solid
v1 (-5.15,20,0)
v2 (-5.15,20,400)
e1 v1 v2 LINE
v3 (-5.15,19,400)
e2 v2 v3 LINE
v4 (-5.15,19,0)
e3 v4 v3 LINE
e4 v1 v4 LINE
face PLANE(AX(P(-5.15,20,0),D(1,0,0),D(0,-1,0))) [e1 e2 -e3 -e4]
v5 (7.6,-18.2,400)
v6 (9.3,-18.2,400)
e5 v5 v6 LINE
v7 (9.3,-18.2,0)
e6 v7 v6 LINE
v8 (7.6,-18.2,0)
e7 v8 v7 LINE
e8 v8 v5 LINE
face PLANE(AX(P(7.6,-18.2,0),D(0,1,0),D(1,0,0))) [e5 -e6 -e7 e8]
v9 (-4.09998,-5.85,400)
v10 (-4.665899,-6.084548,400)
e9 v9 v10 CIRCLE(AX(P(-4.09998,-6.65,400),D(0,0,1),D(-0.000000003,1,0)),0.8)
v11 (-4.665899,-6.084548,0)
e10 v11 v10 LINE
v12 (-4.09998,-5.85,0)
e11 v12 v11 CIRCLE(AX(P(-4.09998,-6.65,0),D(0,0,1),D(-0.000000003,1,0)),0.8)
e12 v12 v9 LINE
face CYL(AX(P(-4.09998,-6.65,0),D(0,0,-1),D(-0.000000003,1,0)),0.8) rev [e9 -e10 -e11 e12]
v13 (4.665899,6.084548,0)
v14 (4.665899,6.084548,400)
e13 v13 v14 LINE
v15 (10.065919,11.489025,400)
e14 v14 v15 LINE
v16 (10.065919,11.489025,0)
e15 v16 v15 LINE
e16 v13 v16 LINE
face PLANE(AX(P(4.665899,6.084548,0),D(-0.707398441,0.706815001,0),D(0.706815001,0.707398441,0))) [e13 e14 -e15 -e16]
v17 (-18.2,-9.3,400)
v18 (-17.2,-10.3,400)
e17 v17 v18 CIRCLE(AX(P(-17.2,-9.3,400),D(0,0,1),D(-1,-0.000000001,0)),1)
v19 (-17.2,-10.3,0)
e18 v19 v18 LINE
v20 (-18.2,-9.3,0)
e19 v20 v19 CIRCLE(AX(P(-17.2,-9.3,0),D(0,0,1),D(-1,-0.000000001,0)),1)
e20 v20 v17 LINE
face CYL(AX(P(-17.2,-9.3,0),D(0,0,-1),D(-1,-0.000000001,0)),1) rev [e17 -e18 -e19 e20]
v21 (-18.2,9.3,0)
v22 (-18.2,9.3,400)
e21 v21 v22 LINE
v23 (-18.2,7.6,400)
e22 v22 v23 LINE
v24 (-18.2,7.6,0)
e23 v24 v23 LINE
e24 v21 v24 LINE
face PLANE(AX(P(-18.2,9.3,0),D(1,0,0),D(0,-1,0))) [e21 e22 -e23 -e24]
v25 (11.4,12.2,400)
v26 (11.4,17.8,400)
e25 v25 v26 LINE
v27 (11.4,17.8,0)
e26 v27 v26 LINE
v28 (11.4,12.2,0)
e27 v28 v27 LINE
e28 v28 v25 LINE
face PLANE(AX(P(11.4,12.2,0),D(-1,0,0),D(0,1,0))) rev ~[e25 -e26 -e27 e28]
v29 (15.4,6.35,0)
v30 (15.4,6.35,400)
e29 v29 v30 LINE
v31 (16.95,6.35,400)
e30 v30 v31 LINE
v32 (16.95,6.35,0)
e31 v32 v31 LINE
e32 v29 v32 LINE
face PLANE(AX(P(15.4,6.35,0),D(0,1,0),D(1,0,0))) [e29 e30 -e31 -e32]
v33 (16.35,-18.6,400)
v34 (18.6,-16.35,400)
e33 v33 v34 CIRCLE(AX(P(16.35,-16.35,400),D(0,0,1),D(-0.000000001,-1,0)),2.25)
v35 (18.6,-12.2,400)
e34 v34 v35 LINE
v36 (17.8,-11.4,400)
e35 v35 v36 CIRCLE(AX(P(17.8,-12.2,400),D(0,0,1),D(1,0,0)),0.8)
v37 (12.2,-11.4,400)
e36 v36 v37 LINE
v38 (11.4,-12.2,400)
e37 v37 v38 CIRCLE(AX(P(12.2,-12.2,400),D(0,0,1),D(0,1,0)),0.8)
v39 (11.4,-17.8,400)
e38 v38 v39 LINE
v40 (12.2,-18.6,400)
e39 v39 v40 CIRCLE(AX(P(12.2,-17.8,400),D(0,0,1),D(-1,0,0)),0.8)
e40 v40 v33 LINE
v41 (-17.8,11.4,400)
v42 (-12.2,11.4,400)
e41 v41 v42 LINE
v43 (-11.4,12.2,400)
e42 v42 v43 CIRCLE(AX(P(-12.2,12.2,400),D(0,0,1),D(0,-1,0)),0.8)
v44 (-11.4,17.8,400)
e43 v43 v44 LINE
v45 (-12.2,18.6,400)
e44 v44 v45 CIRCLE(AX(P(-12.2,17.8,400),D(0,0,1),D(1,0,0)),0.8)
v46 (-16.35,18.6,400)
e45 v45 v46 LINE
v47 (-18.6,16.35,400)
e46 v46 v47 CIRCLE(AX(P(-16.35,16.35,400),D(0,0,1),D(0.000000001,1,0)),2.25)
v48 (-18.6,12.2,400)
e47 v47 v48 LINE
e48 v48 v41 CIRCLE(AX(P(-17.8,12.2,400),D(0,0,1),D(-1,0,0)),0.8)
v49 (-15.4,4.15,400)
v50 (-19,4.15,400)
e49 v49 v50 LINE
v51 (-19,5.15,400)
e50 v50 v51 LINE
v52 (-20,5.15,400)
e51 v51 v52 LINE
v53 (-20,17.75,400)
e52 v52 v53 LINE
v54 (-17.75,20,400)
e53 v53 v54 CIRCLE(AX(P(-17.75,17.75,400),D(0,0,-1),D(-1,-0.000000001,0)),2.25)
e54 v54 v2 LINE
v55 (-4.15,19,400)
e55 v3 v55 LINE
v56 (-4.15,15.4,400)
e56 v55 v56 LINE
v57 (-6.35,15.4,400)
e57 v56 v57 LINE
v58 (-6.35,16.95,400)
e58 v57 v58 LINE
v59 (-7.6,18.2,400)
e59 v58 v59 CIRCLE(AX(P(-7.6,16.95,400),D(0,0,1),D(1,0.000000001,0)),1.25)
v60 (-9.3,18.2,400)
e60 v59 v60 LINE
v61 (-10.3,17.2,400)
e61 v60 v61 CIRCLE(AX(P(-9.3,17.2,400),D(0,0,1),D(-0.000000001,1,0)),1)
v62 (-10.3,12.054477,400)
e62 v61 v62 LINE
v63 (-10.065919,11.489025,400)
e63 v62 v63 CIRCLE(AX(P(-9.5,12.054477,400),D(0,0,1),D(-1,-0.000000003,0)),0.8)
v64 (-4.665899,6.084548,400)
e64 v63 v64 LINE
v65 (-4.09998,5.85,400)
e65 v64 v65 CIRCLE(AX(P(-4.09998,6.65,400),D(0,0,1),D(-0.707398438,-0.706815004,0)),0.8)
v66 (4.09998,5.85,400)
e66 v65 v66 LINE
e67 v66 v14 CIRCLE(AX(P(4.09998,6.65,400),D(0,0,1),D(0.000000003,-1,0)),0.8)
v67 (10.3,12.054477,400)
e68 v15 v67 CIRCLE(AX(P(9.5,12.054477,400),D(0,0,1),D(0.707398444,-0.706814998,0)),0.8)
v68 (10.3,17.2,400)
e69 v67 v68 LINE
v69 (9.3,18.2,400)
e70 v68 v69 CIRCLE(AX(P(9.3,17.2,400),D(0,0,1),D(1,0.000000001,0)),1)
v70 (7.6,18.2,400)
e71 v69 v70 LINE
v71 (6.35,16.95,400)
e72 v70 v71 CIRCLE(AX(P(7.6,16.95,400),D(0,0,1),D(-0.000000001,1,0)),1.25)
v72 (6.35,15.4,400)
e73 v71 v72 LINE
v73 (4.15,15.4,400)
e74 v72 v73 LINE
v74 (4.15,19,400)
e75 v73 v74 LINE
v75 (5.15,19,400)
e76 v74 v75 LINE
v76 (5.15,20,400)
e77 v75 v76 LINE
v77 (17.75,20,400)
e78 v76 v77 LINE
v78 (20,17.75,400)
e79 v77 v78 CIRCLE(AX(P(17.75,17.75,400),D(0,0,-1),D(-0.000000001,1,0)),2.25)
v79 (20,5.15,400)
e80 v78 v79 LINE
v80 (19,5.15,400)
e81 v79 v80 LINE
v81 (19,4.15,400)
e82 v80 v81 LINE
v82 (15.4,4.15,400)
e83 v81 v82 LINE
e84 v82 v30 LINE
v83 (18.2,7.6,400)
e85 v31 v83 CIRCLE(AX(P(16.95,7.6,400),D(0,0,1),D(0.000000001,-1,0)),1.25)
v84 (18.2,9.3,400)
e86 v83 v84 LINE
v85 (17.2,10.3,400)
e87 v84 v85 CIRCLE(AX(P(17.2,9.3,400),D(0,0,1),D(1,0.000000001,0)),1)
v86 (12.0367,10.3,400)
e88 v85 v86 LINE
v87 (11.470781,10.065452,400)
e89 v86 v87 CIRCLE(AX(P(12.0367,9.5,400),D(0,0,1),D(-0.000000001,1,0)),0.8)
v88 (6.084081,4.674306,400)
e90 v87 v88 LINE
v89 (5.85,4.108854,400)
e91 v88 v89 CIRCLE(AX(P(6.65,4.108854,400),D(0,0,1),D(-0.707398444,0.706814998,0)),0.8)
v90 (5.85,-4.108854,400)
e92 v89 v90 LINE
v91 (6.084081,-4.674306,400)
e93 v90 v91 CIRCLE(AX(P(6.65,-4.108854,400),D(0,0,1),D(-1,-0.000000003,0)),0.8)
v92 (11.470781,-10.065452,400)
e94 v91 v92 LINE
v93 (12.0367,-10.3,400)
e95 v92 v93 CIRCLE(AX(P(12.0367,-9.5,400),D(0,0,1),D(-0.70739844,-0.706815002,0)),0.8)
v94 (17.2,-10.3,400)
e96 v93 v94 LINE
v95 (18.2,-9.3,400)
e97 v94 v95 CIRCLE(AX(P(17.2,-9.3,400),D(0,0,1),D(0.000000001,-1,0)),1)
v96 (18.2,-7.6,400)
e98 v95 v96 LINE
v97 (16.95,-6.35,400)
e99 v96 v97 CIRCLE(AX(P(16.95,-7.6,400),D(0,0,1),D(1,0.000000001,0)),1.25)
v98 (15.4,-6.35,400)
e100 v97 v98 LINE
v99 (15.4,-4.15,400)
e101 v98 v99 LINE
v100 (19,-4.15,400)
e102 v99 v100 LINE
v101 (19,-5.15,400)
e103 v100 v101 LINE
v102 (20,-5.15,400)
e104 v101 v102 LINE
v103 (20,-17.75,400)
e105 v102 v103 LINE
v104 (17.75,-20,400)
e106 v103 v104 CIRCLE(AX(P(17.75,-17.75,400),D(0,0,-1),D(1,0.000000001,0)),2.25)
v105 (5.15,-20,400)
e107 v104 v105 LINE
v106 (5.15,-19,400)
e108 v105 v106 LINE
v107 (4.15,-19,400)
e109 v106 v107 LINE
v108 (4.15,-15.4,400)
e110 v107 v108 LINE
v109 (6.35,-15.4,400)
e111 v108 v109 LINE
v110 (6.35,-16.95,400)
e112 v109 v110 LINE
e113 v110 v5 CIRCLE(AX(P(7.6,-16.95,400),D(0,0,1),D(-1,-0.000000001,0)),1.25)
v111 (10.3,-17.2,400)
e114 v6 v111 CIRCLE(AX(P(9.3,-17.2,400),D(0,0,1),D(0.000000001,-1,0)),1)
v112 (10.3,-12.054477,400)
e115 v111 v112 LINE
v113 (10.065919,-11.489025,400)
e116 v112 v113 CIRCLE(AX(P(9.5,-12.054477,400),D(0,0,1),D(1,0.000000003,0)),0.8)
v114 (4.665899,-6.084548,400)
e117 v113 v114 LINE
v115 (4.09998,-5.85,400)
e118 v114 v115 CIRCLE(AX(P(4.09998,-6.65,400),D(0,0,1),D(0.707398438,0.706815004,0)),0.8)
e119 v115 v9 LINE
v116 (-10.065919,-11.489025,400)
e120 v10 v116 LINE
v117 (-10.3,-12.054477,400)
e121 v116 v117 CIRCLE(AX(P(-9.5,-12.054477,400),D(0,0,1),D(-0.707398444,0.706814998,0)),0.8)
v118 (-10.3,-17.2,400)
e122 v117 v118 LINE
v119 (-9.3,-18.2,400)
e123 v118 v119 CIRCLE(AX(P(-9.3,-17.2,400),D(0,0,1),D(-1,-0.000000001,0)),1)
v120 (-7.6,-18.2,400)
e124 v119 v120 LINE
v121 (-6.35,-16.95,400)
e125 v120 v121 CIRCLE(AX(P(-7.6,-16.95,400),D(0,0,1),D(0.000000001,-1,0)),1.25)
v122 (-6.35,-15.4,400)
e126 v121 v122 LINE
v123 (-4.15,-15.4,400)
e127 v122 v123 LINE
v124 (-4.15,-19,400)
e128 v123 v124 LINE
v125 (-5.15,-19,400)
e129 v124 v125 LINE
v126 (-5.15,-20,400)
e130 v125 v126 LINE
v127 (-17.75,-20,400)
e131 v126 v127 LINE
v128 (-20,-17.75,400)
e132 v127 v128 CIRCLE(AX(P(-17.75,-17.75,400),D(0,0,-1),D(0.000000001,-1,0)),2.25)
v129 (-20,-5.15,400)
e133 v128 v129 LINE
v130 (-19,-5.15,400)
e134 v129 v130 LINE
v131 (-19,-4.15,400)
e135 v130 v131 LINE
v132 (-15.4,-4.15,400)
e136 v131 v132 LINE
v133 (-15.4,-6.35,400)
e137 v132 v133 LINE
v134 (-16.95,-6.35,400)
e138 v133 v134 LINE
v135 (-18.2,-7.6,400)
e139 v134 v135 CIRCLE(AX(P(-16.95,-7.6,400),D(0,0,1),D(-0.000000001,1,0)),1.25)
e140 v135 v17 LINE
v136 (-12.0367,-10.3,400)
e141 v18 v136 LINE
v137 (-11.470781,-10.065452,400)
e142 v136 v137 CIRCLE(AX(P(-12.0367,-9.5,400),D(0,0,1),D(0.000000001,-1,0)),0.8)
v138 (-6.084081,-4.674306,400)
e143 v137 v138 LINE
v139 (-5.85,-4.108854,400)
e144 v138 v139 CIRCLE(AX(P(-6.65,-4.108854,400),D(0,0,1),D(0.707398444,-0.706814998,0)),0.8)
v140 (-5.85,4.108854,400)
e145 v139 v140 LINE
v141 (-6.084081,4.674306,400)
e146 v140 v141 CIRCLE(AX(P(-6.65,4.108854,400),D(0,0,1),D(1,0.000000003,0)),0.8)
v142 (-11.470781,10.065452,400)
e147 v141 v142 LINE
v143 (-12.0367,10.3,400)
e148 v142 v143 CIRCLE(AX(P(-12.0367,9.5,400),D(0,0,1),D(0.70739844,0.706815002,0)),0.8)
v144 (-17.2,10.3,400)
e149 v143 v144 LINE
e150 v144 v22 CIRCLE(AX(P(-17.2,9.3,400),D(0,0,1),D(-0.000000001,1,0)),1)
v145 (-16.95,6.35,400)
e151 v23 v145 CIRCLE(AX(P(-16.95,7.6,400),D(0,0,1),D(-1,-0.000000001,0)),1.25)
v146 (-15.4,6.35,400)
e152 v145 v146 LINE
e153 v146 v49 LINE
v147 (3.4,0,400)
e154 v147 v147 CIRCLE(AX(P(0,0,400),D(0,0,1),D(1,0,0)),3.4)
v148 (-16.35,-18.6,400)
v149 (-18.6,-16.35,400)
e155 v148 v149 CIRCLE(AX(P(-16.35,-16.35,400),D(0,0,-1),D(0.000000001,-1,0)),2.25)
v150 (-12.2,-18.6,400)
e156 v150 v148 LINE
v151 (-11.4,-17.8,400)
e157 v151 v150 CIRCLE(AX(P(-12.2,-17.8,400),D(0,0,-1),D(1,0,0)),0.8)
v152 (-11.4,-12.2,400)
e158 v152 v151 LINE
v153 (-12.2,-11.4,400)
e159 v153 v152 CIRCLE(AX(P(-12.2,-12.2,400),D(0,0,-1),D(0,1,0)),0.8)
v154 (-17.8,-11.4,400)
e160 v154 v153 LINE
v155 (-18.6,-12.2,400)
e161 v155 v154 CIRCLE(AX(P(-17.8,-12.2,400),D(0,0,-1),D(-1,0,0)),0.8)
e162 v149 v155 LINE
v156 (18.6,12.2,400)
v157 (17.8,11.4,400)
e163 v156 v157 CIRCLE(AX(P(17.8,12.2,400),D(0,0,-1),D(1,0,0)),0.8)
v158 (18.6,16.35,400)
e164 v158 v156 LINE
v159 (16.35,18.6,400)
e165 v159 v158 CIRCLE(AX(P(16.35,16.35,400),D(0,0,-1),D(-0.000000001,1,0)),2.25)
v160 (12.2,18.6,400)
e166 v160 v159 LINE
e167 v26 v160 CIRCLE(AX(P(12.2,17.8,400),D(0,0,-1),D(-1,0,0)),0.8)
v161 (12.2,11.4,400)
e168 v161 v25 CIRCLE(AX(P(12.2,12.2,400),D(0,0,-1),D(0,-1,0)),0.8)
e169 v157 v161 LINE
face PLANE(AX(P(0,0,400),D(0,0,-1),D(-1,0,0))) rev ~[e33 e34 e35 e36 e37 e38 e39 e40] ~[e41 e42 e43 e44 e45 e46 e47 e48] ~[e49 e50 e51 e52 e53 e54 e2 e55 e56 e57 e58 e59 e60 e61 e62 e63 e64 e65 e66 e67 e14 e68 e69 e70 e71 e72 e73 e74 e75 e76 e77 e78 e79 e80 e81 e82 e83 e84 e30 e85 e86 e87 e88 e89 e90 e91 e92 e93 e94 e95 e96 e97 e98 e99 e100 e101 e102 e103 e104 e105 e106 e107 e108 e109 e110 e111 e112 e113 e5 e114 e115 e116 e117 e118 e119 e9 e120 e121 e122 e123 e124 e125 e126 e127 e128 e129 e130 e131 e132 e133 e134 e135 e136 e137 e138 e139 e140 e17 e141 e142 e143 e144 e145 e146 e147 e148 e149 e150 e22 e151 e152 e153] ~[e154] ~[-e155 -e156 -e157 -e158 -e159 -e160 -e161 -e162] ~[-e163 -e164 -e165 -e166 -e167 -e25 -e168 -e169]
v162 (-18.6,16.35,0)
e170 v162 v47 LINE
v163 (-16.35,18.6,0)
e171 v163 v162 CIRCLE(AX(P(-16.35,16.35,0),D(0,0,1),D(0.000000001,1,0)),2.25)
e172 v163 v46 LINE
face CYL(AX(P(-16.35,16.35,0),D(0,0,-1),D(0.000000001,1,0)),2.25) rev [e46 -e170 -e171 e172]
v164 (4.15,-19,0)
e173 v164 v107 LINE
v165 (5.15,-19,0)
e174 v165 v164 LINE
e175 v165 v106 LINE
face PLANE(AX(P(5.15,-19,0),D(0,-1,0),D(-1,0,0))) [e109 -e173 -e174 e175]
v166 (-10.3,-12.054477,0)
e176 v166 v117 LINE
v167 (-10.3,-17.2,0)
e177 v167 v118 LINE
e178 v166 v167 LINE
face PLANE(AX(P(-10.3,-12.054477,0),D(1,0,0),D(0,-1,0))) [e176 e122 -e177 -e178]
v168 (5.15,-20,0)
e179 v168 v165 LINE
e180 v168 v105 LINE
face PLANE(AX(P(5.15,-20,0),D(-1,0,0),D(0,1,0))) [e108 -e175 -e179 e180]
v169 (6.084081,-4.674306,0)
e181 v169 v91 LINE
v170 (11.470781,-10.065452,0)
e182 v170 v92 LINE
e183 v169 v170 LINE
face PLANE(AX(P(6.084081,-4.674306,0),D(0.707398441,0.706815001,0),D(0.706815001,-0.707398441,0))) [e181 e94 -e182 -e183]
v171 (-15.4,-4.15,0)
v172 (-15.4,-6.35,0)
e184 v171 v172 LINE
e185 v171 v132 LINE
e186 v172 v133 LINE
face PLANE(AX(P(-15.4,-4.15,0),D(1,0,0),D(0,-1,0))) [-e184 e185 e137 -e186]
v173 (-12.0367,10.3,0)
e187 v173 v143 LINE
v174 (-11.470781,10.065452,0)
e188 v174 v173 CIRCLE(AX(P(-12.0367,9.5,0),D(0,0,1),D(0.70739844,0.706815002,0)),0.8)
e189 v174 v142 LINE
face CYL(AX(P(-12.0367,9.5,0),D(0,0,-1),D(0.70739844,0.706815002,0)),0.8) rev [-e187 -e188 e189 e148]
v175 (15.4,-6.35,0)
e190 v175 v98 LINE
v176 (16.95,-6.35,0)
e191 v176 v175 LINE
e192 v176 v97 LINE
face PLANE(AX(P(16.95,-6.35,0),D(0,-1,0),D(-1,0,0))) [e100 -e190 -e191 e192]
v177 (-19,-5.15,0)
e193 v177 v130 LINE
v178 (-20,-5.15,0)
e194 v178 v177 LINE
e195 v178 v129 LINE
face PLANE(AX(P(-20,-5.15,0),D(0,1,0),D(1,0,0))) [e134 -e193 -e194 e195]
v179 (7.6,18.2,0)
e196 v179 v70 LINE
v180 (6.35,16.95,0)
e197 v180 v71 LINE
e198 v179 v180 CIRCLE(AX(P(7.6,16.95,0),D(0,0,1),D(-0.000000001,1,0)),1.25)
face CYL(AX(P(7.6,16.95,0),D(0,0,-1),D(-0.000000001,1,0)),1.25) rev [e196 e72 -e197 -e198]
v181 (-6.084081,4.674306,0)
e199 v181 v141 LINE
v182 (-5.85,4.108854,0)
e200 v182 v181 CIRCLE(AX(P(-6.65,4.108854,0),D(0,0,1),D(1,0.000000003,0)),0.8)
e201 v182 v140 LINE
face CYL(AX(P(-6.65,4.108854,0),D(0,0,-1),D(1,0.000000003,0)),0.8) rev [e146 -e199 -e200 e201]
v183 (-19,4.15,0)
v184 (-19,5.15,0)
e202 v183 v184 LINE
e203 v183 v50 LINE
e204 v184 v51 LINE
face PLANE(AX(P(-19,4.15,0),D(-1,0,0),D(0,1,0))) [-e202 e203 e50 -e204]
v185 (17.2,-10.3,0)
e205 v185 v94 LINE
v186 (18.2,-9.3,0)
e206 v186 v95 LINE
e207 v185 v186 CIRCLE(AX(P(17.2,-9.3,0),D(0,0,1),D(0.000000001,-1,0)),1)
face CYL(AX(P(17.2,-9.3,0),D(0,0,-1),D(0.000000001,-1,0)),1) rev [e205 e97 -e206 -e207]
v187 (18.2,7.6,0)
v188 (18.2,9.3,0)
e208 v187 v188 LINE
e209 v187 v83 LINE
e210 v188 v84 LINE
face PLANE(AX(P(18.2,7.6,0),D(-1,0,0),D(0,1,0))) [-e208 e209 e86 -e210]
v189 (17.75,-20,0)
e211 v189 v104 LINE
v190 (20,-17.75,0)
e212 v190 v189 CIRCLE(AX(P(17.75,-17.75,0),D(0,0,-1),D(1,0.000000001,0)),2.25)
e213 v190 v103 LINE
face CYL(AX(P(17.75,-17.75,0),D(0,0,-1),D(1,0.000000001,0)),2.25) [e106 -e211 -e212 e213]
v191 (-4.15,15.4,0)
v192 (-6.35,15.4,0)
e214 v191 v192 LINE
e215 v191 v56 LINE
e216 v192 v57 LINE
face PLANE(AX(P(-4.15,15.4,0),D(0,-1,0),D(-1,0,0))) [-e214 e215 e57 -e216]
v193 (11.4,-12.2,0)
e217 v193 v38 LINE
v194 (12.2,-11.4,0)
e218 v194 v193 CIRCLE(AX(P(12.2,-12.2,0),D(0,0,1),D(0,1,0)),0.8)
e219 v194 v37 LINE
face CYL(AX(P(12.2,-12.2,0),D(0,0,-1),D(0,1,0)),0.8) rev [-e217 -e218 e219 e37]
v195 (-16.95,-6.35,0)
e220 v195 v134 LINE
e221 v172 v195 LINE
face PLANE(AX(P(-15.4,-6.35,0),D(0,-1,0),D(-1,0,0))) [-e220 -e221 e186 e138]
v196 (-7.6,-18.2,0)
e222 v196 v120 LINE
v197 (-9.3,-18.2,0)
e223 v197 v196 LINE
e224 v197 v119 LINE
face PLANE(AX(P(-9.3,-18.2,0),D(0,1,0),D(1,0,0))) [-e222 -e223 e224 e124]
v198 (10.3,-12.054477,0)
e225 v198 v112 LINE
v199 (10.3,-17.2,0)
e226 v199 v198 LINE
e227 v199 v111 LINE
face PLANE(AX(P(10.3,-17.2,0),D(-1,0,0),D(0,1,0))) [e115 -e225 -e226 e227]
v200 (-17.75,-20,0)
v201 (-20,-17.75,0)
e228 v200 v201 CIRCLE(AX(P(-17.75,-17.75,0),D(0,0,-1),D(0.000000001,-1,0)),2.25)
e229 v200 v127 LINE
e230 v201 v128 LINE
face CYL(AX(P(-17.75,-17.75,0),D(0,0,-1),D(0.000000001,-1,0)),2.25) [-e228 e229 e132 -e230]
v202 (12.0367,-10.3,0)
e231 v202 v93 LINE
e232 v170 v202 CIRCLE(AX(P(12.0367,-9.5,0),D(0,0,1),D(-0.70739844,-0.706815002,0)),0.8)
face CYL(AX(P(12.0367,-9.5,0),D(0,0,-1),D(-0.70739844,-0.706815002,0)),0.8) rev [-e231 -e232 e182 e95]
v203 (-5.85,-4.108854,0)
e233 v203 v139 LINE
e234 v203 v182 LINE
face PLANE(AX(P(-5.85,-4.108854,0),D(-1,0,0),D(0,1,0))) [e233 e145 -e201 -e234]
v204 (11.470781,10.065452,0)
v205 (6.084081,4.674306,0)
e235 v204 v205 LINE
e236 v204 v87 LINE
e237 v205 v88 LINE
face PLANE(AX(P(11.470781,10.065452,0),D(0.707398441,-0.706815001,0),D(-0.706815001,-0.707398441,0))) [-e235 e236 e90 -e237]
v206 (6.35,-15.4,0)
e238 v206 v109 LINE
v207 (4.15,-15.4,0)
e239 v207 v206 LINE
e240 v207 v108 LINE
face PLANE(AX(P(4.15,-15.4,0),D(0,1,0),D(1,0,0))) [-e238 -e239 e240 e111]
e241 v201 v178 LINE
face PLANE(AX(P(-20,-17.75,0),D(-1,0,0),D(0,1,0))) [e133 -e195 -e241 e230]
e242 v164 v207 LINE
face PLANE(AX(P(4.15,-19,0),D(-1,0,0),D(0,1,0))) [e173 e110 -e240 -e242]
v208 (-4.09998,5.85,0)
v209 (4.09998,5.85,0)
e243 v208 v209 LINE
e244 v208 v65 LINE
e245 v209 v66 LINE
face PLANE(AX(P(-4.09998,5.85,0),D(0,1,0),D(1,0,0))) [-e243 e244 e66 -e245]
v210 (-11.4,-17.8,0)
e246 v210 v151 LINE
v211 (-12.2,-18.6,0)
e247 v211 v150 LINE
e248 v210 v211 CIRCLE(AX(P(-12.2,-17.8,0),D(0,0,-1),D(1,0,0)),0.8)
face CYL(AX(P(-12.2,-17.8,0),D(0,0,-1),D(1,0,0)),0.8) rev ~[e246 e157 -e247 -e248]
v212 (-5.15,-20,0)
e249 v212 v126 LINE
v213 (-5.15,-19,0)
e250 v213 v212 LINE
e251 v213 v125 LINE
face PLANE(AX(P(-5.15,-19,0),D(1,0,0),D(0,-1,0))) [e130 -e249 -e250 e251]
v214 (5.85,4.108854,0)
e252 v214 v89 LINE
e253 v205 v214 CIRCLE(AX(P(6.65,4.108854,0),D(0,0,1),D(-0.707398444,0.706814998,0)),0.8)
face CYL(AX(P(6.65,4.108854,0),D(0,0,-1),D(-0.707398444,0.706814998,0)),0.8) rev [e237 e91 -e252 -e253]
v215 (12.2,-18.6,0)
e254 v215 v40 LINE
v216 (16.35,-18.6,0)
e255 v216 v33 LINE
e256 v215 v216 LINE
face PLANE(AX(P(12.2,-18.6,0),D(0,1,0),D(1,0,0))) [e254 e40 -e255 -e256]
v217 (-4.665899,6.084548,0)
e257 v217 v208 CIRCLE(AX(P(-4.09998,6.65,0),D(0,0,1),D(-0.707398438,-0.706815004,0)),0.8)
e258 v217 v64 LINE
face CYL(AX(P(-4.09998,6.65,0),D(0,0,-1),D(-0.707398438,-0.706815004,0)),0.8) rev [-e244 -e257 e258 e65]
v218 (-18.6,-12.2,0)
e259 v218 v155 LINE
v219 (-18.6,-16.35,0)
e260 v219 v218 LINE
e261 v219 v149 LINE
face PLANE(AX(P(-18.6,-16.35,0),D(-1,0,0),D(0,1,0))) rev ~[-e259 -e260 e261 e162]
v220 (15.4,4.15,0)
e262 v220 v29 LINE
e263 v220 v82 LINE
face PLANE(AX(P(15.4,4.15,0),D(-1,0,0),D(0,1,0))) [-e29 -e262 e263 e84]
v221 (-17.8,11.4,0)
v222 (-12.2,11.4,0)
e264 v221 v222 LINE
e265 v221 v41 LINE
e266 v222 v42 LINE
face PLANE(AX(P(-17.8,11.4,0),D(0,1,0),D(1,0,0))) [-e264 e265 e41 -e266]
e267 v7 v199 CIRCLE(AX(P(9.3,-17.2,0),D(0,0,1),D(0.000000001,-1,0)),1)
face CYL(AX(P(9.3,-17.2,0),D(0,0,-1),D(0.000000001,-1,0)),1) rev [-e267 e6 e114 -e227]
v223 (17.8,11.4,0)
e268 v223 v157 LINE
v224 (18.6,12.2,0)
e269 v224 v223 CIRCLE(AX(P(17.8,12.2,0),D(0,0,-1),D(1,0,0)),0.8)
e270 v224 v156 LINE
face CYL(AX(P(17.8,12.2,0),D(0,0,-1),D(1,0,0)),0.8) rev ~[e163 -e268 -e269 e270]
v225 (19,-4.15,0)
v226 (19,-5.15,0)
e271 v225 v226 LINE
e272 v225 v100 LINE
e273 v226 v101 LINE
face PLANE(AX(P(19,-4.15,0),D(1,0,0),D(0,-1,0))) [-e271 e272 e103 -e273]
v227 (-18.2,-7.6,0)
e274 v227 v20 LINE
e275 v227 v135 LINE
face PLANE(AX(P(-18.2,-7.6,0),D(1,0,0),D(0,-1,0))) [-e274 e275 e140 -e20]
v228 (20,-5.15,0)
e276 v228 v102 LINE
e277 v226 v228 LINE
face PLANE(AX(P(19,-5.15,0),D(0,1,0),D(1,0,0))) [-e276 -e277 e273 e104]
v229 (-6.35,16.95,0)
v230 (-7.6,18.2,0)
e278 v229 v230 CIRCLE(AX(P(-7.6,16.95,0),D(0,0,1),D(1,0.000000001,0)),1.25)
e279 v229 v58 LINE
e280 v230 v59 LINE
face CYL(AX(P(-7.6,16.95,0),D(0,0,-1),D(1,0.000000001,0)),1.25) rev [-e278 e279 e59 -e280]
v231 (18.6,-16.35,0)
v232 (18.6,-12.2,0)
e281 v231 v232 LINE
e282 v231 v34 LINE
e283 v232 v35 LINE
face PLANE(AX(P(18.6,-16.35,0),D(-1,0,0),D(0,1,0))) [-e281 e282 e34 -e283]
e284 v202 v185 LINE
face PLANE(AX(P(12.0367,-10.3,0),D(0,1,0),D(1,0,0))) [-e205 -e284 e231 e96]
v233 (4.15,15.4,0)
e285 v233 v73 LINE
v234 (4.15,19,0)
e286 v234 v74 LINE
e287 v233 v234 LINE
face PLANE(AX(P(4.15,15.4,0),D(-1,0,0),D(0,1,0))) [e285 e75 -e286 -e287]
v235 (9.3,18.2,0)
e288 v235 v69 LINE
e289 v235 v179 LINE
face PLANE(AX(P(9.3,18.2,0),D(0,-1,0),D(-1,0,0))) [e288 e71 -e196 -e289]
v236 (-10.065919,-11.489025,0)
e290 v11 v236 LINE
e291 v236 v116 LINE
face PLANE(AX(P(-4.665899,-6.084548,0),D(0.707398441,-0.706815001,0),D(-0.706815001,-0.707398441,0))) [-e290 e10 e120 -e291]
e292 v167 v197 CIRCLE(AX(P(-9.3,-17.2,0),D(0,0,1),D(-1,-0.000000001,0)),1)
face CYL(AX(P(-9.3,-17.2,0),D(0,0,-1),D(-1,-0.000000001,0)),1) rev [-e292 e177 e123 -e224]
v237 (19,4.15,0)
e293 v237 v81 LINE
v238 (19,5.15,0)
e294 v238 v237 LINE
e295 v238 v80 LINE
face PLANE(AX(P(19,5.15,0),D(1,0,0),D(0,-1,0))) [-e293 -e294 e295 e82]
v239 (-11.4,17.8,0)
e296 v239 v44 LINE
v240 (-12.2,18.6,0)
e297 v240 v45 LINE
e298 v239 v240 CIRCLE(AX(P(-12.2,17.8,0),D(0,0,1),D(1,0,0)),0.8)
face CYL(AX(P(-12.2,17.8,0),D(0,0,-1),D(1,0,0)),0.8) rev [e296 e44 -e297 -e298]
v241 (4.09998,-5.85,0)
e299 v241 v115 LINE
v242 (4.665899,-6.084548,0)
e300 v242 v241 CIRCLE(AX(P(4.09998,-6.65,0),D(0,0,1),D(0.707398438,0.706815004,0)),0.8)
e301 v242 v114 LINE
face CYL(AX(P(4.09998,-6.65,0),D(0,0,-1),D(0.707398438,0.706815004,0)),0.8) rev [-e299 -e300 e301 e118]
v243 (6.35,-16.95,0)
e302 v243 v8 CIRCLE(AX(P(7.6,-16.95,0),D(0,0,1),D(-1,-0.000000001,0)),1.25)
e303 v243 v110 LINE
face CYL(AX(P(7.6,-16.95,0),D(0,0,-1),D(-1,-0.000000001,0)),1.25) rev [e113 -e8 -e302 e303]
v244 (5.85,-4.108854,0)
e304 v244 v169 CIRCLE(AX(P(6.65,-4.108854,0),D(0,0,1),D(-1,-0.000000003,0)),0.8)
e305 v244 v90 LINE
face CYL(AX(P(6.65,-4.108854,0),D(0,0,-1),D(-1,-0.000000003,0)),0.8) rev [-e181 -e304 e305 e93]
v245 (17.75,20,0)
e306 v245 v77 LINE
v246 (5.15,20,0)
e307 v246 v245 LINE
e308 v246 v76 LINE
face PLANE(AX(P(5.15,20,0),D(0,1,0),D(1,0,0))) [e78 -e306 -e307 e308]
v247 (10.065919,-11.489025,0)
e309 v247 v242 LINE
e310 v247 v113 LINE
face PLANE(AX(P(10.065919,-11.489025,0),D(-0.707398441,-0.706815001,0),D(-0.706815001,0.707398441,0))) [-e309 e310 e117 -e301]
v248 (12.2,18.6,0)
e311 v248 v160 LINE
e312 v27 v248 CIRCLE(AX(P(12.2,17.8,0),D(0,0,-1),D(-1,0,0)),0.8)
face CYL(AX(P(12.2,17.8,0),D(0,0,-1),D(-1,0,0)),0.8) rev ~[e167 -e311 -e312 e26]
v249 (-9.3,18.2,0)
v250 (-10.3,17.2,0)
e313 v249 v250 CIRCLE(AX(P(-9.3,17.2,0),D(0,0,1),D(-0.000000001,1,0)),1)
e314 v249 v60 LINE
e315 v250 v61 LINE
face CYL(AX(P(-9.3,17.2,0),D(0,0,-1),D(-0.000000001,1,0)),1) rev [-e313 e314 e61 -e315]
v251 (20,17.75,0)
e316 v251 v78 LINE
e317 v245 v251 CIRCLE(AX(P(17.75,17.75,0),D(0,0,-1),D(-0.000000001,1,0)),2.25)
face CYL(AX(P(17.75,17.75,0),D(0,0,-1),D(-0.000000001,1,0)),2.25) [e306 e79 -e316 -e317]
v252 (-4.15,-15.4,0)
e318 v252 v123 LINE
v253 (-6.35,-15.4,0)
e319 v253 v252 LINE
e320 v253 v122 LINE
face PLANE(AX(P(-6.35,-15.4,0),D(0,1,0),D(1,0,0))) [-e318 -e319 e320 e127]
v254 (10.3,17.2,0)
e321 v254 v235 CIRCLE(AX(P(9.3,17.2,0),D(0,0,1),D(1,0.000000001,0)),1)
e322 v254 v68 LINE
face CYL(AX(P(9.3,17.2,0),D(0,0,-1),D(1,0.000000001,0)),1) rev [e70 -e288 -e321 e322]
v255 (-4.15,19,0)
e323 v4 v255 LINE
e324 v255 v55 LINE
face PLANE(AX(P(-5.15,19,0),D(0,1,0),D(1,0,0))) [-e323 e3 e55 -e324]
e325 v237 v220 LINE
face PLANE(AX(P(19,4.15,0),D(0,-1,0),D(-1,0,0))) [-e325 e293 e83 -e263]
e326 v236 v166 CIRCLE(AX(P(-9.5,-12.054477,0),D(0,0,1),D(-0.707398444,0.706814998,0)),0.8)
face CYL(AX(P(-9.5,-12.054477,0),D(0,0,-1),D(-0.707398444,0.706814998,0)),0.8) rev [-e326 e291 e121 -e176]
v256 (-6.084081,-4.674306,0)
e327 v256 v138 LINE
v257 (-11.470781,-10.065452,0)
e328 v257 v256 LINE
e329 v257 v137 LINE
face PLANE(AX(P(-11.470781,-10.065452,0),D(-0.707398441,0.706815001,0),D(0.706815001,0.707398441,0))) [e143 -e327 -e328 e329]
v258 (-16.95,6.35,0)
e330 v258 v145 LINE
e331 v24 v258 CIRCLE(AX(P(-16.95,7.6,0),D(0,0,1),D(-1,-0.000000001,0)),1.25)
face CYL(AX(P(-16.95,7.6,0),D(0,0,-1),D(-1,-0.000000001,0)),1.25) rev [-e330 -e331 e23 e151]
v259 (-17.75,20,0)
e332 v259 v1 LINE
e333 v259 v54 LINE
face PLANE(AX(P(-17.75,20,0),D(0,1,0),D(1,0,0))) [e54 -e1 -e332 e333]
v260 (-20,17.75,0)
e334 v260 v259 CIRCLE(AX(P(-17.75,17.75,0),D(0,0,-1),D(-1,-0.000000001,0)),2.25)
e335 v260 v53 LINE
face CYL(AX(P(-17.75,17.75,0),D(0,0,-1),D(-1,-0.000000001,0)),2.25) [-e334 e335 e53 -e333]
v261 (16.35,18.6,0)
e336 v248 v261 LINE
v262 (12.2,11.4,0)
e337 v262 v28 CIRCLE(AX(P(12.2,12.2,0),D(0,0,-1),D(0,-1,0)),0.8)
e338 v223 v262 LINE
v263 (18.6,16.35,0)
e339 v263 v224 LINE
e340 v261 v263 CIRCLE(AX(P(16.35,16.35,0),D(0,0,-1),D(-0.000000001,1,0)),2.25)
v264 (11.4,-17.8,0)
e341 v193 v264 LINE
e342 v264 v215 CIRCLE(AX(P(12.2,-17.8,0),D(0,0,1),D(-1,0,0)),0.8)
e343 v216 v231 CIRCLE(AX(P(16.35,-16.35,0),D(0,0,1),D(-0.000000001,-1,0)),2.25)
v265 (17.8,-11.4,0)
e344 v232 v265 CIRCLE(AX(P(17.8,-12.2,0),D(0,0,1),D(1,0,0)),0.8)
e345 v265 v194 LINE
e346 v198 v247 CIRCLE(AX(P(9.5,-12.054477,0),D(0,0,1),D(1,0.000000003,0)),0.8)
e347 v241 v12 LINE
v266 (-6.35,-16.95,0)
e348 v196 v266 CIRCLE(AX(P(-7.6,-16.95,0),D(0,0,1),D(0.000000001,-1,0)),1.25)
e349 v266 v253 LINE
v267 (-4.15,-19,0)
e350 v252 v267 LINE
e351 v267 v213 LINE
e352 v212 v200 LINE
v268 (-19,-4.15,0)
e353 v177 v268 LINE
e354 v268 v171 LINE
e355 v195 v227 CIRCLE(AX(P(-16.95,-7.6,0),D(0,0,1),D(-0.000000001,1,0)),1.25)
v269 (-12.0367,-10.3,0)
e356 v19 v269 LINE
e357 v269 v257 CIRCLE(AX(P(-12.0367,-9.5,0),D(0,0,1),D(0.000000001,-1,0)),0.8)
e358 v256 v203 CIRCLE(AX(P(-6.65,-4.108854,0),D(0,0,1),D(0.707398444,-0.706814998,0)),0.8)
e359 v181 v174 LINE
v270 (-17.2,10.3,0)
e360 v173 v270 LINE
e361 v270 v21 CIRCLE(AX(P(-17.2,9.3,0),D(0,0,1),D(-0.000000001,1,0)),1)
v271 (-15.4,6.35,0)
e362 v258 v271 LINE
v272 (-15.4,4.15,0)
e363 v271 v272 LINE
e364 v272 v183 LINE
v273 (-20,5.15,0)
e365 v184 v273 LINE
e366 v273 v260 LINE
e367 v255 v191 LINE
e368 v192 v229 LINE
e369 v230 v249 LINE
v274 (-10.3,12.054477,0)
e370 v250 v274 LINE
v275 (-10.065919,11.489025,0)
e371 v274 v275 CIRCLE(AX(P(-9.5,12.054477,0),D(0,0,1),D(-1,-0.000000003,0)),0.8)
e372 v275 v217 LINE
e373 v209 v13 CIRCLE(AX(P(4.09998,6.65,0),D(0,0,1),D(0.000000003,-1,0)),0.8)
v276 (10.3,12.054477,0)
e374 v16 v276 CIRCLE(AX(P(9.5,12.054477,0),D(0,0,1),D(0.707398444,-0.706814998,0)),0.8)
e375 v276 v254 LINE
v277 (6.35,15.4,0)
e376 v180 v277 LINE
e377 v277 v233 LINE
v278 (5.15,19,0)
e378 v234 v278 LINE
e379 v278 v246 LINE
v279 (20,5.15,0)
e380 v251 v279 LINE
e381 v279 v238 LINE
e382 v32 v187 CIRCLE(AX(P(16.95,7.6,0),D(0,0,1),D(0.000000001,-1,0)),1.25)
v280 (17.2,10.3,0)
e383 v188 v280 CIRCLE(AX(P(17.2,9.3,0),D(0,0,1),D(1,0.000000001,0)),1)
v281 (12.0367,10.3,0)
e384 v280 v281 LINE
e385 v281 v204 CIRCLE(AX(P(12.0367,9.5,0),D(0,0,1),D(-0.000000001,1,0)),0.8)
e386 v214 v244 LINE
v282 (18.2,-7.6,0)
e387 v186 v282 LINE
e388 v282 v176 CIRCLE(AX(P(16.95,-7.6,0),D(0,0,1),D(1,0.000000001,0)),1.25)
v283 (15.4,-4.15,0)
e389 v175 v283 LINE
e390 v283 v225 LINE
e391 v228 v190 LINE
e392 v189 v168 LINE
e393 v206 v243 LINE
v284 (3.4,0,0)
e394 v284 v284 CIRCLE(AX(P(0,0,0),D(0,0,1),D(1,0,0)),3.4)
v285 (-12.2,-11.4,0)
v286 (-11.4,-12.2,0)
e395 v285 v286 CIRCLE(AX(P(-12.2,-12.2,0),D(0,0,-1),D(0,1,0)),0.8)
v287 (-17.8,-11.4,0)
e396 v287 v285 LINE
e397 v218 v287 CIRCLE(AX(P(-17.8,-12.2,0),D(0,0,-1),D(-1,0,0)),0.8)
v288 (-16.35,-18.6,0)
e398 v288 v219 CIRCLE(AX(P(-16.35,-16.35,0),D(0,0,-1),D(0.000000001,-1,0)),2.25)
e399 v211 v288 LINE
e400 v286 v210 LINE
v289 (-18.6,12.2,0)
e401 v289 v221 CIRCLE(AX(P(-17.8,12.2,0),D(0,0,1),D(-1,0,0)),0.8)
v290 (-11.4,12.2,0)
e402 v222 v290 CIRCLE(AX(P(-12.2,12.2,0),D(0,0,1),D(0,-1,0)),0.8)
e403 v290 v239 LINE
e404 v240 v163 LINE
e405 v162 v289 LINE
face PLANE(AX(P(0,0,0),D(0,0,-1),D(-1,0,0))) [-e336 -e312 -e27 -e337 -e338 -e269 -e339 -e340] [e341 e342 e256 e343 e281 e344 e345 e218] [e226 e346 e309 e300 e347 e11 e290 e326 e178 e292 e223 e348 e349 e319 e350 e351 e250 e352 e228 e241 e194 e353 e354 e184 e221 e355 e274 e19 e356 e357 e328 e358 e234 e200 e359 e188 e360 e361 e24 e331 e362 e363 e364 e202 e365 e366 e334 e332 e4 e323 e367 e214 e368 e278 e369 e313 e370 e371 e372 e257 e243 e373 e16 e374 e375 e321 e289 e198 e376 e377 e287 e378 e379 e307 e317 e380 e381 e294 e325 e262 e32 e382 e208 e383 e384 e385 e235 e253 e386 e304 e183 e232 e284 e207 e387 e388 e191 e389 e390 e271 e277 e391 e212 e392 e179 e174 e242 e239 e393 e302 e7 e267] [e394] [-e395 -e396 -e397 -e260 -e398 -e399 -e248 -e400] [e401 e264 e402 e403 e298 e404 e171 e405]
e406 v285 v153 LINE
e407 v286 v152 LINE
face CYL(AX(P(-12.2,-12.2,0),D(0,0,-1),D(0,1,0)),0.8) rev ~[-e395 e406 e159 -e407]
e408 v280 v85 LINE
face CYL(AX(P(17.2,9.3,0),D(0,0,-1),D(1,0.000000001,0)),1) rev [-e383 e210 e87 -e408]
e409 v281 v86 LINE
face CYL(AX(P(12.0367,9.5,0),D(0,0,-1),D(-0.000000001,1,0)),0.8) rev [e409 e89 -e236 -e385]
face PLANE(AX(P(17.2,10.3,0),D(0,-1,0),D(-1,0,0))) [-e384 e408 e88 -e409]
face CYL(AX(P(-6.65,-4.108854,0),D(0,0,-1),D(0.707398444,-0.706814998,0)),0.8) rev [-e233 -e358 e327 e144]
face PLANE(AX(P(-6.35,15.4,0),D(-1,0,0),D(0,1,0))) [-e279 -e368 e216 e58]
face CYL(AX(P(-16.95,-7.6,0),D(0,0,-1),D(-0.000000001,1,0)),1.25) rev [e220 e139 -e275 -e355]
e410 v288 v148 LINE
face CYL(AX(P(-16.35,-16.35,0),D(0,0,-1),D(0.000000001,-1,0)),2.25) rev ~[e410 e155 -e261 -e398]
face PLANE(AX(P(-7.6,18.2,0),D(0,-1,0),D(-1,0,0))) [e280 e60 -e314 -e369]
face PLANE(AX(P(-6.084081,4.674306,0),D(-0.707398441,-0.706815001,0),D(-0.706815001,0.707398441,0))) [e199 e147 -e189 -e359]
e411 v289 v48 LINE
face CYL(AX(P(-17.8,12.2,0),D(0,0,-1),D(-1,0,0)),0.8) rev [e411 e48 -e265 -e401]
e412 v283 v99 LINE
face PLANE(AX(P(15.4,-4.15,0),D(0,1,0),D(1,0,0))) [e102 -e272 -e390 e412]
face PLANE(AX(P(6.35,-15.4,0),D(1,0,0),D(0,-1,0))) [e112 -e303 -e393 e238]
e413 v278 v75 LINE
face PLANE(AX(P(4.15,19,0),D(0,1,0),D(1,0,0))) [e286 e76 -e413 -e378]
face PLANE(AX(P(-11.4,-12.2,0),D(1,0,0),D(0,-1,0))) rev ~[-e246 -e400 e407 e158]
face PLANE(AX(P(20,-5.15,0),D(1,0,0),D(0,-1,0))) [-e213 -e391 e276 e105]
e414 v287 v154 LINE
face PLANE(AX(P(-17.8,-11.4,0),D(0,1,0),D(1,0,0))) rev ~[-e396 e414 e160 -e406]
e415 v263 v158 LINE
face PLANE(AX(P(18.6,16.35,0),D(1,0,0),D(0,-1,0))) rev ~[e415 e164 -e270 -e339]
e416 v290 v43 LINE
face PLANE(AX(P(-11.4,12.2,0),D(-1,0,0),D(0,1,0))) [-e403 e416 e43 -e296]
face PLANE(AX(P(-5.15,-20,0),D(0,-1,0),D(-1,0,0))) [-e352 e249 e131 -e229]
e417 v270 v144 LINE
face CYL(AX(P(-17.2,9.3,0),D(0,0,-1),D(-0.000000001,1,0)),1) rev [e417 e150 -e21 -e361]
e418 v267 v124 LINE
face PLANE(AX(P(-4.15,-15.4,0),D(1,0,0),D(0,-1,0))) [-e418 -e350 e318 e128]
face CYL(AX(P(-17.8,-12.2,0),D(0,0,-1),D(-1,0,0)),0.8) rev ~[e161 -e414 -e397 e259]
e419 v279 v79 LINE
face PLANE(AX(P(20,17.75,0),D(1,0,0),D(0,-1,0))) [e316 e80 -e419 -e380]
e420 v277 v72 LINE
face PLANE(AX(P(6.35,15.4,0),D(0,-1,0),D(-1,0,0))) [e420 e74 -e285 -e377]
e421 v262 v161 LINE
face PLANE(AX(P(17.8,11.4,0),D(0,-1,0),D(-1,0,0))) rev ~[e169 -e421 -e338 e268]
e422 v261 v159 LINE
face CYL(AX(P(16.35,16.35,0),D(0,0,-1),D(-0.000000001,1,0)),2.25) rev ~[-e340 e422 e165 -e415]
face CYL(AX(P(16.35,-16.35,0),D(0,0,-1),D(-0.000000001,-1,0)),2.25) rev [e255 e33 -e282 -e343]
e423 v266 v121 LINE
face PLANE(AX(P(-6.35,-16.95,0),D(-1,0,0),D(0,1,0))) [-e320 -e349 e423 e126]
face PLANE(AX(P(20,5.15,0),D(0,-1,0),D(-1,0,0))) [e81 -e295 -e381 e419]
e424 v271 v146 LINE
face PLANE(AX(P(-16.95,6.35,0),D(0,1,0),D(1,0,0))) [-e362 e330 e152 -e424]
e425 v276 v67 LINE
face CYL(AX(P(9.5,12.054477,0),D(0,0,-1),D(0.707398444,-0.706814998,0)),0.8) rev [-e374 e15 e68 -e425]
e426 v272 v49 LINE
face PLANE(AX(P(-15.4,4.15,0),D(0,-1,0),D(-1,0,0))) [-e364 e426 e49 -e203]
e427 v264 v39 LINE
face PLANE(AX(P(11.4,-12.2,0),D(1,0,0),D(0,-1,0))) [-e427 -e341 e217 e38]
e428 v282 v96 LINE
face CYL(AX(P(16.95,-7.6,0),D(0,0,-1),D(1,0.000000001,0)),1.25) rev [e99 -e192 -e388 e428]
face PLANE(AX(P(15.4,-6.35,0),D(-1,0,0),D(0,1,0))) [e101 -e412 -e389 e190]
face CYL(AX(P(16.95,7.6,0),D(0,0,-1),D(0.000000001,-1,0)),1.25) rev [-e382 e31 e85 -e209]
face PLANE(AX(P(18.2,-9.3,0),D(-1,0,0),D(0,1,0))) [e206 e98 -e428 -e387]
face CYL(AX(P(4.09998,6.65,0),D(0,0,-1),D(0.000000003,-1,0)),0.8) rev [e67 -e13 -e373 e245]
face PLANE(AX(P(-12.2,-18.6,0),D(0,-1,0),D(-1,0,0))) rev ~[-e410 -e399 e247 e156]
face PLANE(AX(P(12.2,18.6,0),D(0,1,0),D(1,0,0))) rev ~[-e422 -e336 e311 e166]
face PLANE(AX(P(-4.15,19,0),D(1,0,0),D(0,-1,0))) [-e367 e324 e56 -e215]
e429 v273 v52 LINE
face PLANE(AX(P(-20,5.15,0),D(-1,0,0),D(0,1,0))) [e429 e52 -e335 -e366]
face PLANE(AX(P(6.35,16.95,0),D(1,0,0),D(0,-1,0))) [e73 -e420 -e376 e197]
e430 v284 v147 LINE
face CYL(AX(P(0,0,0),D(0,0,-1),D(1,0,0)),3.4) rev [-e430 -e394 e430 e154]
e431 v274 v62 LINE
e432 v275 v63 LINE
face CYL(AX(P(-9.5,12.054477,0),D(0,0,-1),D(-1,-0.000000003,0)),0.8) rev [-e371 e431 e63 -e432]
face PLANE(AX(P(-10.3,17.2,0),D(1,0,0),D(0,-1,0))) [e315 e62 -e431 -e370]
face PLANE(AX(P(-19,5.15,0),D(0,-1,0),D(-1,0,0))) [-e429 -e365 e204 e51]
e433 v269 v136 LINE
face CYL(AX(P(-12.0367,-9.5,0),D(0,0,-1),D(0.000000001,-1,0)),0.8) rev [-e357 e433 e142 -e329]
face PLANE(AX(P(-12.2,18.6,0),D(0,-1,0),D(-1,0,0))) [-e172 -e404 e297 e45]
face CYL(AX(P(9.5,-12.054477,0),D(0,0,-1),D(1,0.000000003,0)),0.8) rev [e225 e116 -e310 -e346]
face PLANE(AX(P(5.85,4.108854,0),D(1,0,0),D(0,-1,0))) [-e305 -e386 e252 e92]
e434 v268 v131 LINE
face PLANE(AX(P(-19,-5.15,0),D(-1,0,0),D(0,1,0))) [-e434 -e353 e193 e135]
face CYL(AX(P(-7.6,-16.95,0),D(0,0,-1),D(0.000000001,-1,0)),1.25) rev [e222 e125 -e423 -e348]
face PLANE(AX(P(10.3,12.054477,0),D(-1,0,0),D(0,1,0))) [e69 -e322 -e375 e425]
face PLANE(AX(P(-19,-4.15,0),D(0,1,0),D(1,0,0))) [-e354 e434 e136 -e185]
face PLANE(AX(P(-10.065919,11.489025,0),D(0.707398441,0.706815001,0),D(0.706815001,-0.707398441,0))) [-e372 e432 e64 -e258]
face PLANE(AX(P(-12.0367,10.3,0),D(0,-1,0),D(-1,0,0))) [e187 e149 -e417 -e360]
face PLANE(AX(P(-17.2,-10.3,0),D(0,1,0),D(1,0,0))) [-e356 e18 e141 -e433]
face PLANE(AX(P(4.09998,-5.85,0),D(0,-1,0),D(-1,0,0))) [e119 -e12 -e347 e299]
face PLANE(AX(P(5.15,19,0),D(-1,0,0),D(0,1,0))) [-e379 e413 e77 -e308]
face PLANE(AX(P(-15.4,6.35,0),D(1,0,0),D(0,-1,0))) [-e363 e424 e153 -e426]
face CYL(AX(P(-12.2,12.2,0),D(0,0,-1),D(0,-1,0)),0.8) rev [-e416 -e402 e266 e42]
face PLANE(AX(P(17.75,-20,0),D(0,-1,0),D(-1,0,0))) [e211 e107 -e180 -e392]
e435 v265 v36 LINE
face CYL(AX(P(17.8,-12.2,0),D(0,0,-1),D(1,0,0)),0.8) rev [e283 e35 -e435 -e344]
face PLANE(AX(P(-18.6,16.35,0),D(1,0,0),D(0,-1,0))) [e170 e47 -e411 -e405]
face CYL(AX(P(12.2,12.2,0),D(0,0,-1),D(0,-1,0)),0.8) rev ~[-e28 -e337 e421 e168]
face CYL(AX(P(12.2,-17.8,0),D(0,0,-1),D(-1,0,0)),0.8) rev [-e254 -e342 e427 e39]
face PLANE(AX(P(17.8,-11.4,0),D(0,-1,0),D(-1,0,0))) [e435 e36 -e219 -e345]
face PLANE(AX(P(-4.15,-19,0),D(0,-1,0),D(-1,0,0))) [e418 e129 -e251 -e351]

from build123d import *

# Parameters (mm, degrees)
SKETCH1_R           = 3.4
BOSS_EXTRUDE1_DEPTH = 400


with BuildPart() as part:
    # Sketch1 → Boss-Extrude1 (new body)
    with BuildSketch(Plane.XY):
        with BuildLine():
            Line((20, 17.75), (20, 5.15))
            Line((20, 5.15), (19, 5.15))
            Line((19, 5.15), (19, 4.15))
            Line((19, 4.15), (15.4, 4.15))
            Line((15.4, 4.15), (15.4, 6.35))
            Line((15.4, 6.35), (16.95, 6.35))
            ThreePointArc((16.95, 6.35), (17.833883476, 6.716116524), (18.2, 7.6))
            Line((18.2, 7.6), (18.2, 9.3))
            ThreePointArc((18.2, 9.3), (17.907106781, 10.007106781), (17.2, 10.3))
            Line((17.2, 10.3), (12.03669957, 10.3))
            ThreePointArc((12.03669957, 10.3), (11.73040037, 10.239040459), (11.470780817, 10.065452001))
            Line((11.470780817, 10.065452001), (6.084081247, 4.674305984))
            ThreePointArc((6.084081247, 4.674305984), (5.910833239, 4.414848262), (5.85, 4.108853983))
            Line((5.85, 4.108853983), (5.85, -4.108853983))
            ThreePointArc((5.85, -4.108853983), (5.910833239, -4.414848262), (6.084081247, -4.674305984))
            Line((6.084081247, -4.674305984), (11.470780817, -10.065452001))
            ThreePointArc((11.470780817, -10.065452001), (11.73040037, -10.239040459), (12.03669957, -10.3))
            Line((12.03669957, -10.3), (17.2, -10.3))
            ThreePointArc((17.2, -10.3), (17.907106781, -10.007106781), (18.2, -9.3))
            Line((18.2, -9.3), (18.2, -7.6))
            ThreePointArc((18.2, -7.6), (17.833883476, -6.716116524), (16.95, -6.35))
            Line((16.95, -6.35), (15.4, -6.35))
            Line((15.4, -6.35), (15.4, -4.15))
            Line((15.4, -4.15), (19, -4.15))
            Line((19, -4.15), (19, -5.15))
            Line((19, -5.15), (20, -5.15))
            Line((20, -5.15), (20, -17.75))
            ThreePointArc((20, -17.75), (19.340990258, -19.340990258), (17.75, -20))
            Line((17.75, -20), (5.15, -20))
            Line((5.15, -20), (5.15, -19))
            Line((5.15, -19), (4.15, -19))
            Line((4.15, -19), (4.15, -15.4))
            Line((4.15, -15.4), (6.35, -15.4))
            Line((6.35, -15.4), (6.35, -16.95))
            ThreePointArc((6.35, -16.95), (6.716116524, -17.833883476), (7.6, -18.2))
            Line((7.6, -18.2), (9.3, -18.2))
            ThreePointArc((9.3, -18.2), (10.007106781, -17.907106781), (10.3, -17.2))
            Line((10.3, -17.2), (10.3, -12.054477022))
            ThreePointArc((10.3, -12.054477022), (10.239166761, -11.748482743), (10.065918753, -11.489025021))
            Line((10.065918753, -11.489025021), (4.665899173, -6.084547999))
            ThreePointArc((4.665899173, -6.084547999), (4.406279619, -5.910959541), (4.09998042, -5.85))
            Line((4.09998042, -5.85), (-4.09998042, -5.85))
            ThreePointArc((-4.09998042, -5.85), (-4.406279619, -5.910959541), (-4.665899173, -6.084547999))
            Line((-4.665899173, -6.084547999), (-10.065918753, -11.489025021))
            ThreePointArc((-10.065918753, -11.489025021), (-10.239166761, -11.748482743), (-10.3, -12.054477022))
            Line((-10.3, -12.054477022), (-10.3, -17.2))
            ThreePointArc((-10.3, -17.2), (-10.007106781, -17.907106781), (-9.3, -18.2))
            Line((-9.3, -18.2), (-7.6, -18.2))
            ThreePointArc((-7.6, -18.2), (-6.716116524, -17.833883476), (-6.35, -16.95))
            Line((-6.35, -16.95), (-6.35, -15.4))
            Line((-6.35, -15.4), (-4.15, -15.4))
            Line((-4.15, -15.4), (-4.15, -19))
            Line((-4.15, -19), (-5.15, -19))
            Line((-5.15, -19), (-5.15, -20))
            Line((-5.15, -20), (-17.75, -20))
            ThreePointArc((-17.75, -20), (-19.340990258, -19.340990258), (-20, -17.75))
            Line((-20, -17.75), (-20, -5.15))
            Line((-20, -5.15), (-19, -5.15))
            Line((-19, -5.15), (-19, -4.15))
            Line((-19, -4.15), (-15.4, -4.15))
            Line((-15.4, -4.15), (-15.4, -6.35))
            Line((-15.4, -6.35), (-16.95, -6.35))
            ThreePointArc((-16.95, -6.35), (-17.833883476, -6.716116524), (-18.2, -7.6))
            Line((-18.2, -7.6), (-18.2, -9.3))
            ThreePointArc((-18.2, -9.3), (-17.907106781, -10.007106781), (-17.2, -10.3))
            Line((-17.2, -10.3), (-12.03669957, -10.3))
            ThreePointArc((-12.03669957, -10.3), (-11.73040037, -10.239040459), (-11.470780817, -10.065452001))
            Line((-11.470780817, -10.065452001), (-6.084081247, -4.674305984))
            ThreePointArc((-6.084081247, -4.674305984), (-5.910833239, -4.414848262), (-5.85, -4.108853983))
            Line((-5.85, -4.108853983), (-5.85, 4.108853983))
            ThreePointArc((-5.85, 4.108853983), (-5.910833239, 4.414848262), (-6.084081247, 4.674305984))
            Line((-6.084081247, 4.674305984), (-11.470780817, 10.065452001))
            ThreePointArc((-11.470780817, 10.065452001), (-11.73040037, 10.239040459), (-12.03669957, 10.3))
            Line((-12.03669957, 10.3), (-17.2, 10.3))
            ThreePointArc((-17.2, 10.3), (-17.907106781, 10.007106781), (-18.2, 9.3))
            Line((-18.2, 9.3), (-18.2, 7.6))
            ThreePointArc((-18.2, 7.6), (-17.833883476, 6.716116524), (-16.95, 6.35))
            Line((-16.95, 6.35), (-15.4, 6.35))
            Line((-15.4, 6.35), (-15.4, 4.15))
            Line((-15.4, 4.15), (-19, 4.15))
            Line((-19, 4.15), (-19, 5.15))
            Line((-19, 5.15), (-20, 5.15))
            Line((-20, 5.15), (-20, 17.75))
            ThreePointArc((-20, 17.75), (-19.340990258, 19.340990258), (-17.75, 20))
            Line((-17.75, 20), (-5.15, 20))
            Line((-5.15, 20), (-5.15, 19))
            Line((-5.15, 19), (-4.15, 19))
            Line((-4.15, 19), (-4.15, 15.4))
            Line((-4.15, 15.4), (-6.35, 15.4))
            Line((-6.35, 15.4), (-6.35, 16.95))
            ThreePointArc((-6.35, 16.95), (-6.716116524, 17.833883476), (-7.6, 18.2))
            Line((-7.6, 18.2), (-9.3, 18.2))
            ThreePointArc((-9.3, 18.2), (-10.007106781, 17.907106781), (-10.3, 17.2))
            Line((-10.3, 17.2), (-10.3, 12.054477022))
            ThreePointArc((-10.3, 12.054477022), (-10.239166761, 11.748482743), (-10.065918753, 11.489025021))
            Line((-10.065918753, 11.489025021), (-4.665899173, 6.084547999))
            ThreePointArc((-4.665899173, 6.084547999), (-4.406279619, 5.910959541), (-4.09998042, 5.85))
            Line((-4.09998042, 5.85), (4.09998042, 5.85))
            ThreePointArc((4.09998042, 5.85), (4.406279619, 5.910959541), (4.665899173, 6.084547999))
            Line((4.665899173, 6.084547999), (10.065918753, 11.489025021))
            ThreePointArc((10.065918753, 11.489025021), (10.239166761, 11.748482743), (10.3, 12.054477022))
            Line((10.3, 12.054477022), (10.3, 17.2))
            ThreePointArc((10.3, 17.2), (10.007106781, 17.907106781), (9.3, 18.2))
            Line((9.3, 18.2), (7.6, 18.2))
            ThreePointArc((7.6, 18.2), (6.716116524, 17.833883476), (6.35, 16.95))
            Line((6.35, 16.95), (6.35, 15.4))
            Line((6.35, 15.4), (4.15, 15.4))
            Line((4.15, 15.4), (4.15, 19))
            Line((4.15, 19), (5.15, 19))
            Line((5.15, 19), (5.15, 20))
            Line((5.15, 20), (17.75, 20))
            ThreePointArc((17.75, 20), (19.340990258, 19.340990258), (20, 17.75))
        make_face()
        Circle(SKETCH1_R, mode=Mode.SUBTRACT)
        with BuildLine():
            Line((18.6, 16.35), (18.6, 12.2))
            ThreePointArc((18.6, 12.2), (18.365685425, 11.634314575), (17.8, 11.4))
            Line((17.8, 11.4), (12.2, 11.4))
            ThreePointArc((12.2, 11.4), (11.634314575, 11.634314575), (11.4, 12.2))
            Line((11.4, 12.2), (11.4, 17.8))
            ThreePointArc((11.4, 17.8), (11.634314575, 18.365685425), (12.2, 18.6))
            Line((12.2, 18.6), (16.35, 18.6))
            ThreePointArc((16.35, 18.6), (17.940990258, 17.940990258), (18.6, 16.35))
        make_face(mode=Mode.SUBTRACT)
        with BuildLine():
            Line((-12.2, 18.6), (-16.35, 18.6))
            ThreePointArc((-16.35, 18.6), (-17.940990258, 17.940990258), (-18.6, 16.35))
            Line((-18.6, 16.35), (-18.6, 12.2))
            ThreePointArc((-18.6, 12.2), (-18.365685425, 11.634314575), (-17.8, 11.4))
            Line((-17.8, 11.4), (-12.2, 11.4))
            ThreePointArc((-12.2, 11.4), (-11.634314575, 11.634314575), (-11.4, 12.2))
            Line((-11.4, 12.2), (-11.4, 17.8))
            ThreePointArc((-11.4, 17.8), (-11.634314575, 18.365685425), (-12.2, 18.6))
        make_face(mode=Mode.SUBTRACT)
        with BuildLine():
            Line((-18.6, -16.35), (-18.6, -12.2))
            ThreePointArc((-18.6, -12.2), (-18.365685425, -11.634314575), (-17.8, -11.4))
            Line((-17.8, -11.4), (-12.2, -11.4))
            ThreePointArc((-12.2, -11.4), (-11.634314575, -11.634314575), (-11.4, -12.2))
            Line((-11.4, -12.2), (-11.4, -17.8))
            ThreePointArc((-11.4, -17.8), (-11.634314575, -18.365685425), (-12.2, -18.6))
            Line((-12.2, -18.6), (-16.35, -18.6))
            ThreePointArc((-16.35, -18.6), (-17.940990258, -17.940990258), (-18.6, -16.35))
        make_face(mode=Mode.SUBTRACT)
        with BuildLine():
            Line((12.2, -18.6), (16.35, -18.6))
            ThreePointArc((16.35, -18.6), (17.940990258, -17.940990258), (18.6, -16.35))
            Line((18.6, -16.35), (18.6, -12.2))
            ThreePointArc((18.6, -12.2), (18.365685425, -11.634314575), (17.8, -11.4))
            Line((17.8, -11.4), (12.2, -11.4))
            ThreePointArc((12.2, -11.4), (11.634314575, -11.634314575), (11.4, -12.2))
            Line((11.4, -12.2), (11.4, -17.8))
            ThreePointArc((11.4, -17.8), (11.634314575, -18.365685425), (12.2, -18.6))
        make_face(mode=Mode.SUBTRACT)
    extrude(amount=BOSS_EXTRUDE1_DEPTH)


solid = part.part
